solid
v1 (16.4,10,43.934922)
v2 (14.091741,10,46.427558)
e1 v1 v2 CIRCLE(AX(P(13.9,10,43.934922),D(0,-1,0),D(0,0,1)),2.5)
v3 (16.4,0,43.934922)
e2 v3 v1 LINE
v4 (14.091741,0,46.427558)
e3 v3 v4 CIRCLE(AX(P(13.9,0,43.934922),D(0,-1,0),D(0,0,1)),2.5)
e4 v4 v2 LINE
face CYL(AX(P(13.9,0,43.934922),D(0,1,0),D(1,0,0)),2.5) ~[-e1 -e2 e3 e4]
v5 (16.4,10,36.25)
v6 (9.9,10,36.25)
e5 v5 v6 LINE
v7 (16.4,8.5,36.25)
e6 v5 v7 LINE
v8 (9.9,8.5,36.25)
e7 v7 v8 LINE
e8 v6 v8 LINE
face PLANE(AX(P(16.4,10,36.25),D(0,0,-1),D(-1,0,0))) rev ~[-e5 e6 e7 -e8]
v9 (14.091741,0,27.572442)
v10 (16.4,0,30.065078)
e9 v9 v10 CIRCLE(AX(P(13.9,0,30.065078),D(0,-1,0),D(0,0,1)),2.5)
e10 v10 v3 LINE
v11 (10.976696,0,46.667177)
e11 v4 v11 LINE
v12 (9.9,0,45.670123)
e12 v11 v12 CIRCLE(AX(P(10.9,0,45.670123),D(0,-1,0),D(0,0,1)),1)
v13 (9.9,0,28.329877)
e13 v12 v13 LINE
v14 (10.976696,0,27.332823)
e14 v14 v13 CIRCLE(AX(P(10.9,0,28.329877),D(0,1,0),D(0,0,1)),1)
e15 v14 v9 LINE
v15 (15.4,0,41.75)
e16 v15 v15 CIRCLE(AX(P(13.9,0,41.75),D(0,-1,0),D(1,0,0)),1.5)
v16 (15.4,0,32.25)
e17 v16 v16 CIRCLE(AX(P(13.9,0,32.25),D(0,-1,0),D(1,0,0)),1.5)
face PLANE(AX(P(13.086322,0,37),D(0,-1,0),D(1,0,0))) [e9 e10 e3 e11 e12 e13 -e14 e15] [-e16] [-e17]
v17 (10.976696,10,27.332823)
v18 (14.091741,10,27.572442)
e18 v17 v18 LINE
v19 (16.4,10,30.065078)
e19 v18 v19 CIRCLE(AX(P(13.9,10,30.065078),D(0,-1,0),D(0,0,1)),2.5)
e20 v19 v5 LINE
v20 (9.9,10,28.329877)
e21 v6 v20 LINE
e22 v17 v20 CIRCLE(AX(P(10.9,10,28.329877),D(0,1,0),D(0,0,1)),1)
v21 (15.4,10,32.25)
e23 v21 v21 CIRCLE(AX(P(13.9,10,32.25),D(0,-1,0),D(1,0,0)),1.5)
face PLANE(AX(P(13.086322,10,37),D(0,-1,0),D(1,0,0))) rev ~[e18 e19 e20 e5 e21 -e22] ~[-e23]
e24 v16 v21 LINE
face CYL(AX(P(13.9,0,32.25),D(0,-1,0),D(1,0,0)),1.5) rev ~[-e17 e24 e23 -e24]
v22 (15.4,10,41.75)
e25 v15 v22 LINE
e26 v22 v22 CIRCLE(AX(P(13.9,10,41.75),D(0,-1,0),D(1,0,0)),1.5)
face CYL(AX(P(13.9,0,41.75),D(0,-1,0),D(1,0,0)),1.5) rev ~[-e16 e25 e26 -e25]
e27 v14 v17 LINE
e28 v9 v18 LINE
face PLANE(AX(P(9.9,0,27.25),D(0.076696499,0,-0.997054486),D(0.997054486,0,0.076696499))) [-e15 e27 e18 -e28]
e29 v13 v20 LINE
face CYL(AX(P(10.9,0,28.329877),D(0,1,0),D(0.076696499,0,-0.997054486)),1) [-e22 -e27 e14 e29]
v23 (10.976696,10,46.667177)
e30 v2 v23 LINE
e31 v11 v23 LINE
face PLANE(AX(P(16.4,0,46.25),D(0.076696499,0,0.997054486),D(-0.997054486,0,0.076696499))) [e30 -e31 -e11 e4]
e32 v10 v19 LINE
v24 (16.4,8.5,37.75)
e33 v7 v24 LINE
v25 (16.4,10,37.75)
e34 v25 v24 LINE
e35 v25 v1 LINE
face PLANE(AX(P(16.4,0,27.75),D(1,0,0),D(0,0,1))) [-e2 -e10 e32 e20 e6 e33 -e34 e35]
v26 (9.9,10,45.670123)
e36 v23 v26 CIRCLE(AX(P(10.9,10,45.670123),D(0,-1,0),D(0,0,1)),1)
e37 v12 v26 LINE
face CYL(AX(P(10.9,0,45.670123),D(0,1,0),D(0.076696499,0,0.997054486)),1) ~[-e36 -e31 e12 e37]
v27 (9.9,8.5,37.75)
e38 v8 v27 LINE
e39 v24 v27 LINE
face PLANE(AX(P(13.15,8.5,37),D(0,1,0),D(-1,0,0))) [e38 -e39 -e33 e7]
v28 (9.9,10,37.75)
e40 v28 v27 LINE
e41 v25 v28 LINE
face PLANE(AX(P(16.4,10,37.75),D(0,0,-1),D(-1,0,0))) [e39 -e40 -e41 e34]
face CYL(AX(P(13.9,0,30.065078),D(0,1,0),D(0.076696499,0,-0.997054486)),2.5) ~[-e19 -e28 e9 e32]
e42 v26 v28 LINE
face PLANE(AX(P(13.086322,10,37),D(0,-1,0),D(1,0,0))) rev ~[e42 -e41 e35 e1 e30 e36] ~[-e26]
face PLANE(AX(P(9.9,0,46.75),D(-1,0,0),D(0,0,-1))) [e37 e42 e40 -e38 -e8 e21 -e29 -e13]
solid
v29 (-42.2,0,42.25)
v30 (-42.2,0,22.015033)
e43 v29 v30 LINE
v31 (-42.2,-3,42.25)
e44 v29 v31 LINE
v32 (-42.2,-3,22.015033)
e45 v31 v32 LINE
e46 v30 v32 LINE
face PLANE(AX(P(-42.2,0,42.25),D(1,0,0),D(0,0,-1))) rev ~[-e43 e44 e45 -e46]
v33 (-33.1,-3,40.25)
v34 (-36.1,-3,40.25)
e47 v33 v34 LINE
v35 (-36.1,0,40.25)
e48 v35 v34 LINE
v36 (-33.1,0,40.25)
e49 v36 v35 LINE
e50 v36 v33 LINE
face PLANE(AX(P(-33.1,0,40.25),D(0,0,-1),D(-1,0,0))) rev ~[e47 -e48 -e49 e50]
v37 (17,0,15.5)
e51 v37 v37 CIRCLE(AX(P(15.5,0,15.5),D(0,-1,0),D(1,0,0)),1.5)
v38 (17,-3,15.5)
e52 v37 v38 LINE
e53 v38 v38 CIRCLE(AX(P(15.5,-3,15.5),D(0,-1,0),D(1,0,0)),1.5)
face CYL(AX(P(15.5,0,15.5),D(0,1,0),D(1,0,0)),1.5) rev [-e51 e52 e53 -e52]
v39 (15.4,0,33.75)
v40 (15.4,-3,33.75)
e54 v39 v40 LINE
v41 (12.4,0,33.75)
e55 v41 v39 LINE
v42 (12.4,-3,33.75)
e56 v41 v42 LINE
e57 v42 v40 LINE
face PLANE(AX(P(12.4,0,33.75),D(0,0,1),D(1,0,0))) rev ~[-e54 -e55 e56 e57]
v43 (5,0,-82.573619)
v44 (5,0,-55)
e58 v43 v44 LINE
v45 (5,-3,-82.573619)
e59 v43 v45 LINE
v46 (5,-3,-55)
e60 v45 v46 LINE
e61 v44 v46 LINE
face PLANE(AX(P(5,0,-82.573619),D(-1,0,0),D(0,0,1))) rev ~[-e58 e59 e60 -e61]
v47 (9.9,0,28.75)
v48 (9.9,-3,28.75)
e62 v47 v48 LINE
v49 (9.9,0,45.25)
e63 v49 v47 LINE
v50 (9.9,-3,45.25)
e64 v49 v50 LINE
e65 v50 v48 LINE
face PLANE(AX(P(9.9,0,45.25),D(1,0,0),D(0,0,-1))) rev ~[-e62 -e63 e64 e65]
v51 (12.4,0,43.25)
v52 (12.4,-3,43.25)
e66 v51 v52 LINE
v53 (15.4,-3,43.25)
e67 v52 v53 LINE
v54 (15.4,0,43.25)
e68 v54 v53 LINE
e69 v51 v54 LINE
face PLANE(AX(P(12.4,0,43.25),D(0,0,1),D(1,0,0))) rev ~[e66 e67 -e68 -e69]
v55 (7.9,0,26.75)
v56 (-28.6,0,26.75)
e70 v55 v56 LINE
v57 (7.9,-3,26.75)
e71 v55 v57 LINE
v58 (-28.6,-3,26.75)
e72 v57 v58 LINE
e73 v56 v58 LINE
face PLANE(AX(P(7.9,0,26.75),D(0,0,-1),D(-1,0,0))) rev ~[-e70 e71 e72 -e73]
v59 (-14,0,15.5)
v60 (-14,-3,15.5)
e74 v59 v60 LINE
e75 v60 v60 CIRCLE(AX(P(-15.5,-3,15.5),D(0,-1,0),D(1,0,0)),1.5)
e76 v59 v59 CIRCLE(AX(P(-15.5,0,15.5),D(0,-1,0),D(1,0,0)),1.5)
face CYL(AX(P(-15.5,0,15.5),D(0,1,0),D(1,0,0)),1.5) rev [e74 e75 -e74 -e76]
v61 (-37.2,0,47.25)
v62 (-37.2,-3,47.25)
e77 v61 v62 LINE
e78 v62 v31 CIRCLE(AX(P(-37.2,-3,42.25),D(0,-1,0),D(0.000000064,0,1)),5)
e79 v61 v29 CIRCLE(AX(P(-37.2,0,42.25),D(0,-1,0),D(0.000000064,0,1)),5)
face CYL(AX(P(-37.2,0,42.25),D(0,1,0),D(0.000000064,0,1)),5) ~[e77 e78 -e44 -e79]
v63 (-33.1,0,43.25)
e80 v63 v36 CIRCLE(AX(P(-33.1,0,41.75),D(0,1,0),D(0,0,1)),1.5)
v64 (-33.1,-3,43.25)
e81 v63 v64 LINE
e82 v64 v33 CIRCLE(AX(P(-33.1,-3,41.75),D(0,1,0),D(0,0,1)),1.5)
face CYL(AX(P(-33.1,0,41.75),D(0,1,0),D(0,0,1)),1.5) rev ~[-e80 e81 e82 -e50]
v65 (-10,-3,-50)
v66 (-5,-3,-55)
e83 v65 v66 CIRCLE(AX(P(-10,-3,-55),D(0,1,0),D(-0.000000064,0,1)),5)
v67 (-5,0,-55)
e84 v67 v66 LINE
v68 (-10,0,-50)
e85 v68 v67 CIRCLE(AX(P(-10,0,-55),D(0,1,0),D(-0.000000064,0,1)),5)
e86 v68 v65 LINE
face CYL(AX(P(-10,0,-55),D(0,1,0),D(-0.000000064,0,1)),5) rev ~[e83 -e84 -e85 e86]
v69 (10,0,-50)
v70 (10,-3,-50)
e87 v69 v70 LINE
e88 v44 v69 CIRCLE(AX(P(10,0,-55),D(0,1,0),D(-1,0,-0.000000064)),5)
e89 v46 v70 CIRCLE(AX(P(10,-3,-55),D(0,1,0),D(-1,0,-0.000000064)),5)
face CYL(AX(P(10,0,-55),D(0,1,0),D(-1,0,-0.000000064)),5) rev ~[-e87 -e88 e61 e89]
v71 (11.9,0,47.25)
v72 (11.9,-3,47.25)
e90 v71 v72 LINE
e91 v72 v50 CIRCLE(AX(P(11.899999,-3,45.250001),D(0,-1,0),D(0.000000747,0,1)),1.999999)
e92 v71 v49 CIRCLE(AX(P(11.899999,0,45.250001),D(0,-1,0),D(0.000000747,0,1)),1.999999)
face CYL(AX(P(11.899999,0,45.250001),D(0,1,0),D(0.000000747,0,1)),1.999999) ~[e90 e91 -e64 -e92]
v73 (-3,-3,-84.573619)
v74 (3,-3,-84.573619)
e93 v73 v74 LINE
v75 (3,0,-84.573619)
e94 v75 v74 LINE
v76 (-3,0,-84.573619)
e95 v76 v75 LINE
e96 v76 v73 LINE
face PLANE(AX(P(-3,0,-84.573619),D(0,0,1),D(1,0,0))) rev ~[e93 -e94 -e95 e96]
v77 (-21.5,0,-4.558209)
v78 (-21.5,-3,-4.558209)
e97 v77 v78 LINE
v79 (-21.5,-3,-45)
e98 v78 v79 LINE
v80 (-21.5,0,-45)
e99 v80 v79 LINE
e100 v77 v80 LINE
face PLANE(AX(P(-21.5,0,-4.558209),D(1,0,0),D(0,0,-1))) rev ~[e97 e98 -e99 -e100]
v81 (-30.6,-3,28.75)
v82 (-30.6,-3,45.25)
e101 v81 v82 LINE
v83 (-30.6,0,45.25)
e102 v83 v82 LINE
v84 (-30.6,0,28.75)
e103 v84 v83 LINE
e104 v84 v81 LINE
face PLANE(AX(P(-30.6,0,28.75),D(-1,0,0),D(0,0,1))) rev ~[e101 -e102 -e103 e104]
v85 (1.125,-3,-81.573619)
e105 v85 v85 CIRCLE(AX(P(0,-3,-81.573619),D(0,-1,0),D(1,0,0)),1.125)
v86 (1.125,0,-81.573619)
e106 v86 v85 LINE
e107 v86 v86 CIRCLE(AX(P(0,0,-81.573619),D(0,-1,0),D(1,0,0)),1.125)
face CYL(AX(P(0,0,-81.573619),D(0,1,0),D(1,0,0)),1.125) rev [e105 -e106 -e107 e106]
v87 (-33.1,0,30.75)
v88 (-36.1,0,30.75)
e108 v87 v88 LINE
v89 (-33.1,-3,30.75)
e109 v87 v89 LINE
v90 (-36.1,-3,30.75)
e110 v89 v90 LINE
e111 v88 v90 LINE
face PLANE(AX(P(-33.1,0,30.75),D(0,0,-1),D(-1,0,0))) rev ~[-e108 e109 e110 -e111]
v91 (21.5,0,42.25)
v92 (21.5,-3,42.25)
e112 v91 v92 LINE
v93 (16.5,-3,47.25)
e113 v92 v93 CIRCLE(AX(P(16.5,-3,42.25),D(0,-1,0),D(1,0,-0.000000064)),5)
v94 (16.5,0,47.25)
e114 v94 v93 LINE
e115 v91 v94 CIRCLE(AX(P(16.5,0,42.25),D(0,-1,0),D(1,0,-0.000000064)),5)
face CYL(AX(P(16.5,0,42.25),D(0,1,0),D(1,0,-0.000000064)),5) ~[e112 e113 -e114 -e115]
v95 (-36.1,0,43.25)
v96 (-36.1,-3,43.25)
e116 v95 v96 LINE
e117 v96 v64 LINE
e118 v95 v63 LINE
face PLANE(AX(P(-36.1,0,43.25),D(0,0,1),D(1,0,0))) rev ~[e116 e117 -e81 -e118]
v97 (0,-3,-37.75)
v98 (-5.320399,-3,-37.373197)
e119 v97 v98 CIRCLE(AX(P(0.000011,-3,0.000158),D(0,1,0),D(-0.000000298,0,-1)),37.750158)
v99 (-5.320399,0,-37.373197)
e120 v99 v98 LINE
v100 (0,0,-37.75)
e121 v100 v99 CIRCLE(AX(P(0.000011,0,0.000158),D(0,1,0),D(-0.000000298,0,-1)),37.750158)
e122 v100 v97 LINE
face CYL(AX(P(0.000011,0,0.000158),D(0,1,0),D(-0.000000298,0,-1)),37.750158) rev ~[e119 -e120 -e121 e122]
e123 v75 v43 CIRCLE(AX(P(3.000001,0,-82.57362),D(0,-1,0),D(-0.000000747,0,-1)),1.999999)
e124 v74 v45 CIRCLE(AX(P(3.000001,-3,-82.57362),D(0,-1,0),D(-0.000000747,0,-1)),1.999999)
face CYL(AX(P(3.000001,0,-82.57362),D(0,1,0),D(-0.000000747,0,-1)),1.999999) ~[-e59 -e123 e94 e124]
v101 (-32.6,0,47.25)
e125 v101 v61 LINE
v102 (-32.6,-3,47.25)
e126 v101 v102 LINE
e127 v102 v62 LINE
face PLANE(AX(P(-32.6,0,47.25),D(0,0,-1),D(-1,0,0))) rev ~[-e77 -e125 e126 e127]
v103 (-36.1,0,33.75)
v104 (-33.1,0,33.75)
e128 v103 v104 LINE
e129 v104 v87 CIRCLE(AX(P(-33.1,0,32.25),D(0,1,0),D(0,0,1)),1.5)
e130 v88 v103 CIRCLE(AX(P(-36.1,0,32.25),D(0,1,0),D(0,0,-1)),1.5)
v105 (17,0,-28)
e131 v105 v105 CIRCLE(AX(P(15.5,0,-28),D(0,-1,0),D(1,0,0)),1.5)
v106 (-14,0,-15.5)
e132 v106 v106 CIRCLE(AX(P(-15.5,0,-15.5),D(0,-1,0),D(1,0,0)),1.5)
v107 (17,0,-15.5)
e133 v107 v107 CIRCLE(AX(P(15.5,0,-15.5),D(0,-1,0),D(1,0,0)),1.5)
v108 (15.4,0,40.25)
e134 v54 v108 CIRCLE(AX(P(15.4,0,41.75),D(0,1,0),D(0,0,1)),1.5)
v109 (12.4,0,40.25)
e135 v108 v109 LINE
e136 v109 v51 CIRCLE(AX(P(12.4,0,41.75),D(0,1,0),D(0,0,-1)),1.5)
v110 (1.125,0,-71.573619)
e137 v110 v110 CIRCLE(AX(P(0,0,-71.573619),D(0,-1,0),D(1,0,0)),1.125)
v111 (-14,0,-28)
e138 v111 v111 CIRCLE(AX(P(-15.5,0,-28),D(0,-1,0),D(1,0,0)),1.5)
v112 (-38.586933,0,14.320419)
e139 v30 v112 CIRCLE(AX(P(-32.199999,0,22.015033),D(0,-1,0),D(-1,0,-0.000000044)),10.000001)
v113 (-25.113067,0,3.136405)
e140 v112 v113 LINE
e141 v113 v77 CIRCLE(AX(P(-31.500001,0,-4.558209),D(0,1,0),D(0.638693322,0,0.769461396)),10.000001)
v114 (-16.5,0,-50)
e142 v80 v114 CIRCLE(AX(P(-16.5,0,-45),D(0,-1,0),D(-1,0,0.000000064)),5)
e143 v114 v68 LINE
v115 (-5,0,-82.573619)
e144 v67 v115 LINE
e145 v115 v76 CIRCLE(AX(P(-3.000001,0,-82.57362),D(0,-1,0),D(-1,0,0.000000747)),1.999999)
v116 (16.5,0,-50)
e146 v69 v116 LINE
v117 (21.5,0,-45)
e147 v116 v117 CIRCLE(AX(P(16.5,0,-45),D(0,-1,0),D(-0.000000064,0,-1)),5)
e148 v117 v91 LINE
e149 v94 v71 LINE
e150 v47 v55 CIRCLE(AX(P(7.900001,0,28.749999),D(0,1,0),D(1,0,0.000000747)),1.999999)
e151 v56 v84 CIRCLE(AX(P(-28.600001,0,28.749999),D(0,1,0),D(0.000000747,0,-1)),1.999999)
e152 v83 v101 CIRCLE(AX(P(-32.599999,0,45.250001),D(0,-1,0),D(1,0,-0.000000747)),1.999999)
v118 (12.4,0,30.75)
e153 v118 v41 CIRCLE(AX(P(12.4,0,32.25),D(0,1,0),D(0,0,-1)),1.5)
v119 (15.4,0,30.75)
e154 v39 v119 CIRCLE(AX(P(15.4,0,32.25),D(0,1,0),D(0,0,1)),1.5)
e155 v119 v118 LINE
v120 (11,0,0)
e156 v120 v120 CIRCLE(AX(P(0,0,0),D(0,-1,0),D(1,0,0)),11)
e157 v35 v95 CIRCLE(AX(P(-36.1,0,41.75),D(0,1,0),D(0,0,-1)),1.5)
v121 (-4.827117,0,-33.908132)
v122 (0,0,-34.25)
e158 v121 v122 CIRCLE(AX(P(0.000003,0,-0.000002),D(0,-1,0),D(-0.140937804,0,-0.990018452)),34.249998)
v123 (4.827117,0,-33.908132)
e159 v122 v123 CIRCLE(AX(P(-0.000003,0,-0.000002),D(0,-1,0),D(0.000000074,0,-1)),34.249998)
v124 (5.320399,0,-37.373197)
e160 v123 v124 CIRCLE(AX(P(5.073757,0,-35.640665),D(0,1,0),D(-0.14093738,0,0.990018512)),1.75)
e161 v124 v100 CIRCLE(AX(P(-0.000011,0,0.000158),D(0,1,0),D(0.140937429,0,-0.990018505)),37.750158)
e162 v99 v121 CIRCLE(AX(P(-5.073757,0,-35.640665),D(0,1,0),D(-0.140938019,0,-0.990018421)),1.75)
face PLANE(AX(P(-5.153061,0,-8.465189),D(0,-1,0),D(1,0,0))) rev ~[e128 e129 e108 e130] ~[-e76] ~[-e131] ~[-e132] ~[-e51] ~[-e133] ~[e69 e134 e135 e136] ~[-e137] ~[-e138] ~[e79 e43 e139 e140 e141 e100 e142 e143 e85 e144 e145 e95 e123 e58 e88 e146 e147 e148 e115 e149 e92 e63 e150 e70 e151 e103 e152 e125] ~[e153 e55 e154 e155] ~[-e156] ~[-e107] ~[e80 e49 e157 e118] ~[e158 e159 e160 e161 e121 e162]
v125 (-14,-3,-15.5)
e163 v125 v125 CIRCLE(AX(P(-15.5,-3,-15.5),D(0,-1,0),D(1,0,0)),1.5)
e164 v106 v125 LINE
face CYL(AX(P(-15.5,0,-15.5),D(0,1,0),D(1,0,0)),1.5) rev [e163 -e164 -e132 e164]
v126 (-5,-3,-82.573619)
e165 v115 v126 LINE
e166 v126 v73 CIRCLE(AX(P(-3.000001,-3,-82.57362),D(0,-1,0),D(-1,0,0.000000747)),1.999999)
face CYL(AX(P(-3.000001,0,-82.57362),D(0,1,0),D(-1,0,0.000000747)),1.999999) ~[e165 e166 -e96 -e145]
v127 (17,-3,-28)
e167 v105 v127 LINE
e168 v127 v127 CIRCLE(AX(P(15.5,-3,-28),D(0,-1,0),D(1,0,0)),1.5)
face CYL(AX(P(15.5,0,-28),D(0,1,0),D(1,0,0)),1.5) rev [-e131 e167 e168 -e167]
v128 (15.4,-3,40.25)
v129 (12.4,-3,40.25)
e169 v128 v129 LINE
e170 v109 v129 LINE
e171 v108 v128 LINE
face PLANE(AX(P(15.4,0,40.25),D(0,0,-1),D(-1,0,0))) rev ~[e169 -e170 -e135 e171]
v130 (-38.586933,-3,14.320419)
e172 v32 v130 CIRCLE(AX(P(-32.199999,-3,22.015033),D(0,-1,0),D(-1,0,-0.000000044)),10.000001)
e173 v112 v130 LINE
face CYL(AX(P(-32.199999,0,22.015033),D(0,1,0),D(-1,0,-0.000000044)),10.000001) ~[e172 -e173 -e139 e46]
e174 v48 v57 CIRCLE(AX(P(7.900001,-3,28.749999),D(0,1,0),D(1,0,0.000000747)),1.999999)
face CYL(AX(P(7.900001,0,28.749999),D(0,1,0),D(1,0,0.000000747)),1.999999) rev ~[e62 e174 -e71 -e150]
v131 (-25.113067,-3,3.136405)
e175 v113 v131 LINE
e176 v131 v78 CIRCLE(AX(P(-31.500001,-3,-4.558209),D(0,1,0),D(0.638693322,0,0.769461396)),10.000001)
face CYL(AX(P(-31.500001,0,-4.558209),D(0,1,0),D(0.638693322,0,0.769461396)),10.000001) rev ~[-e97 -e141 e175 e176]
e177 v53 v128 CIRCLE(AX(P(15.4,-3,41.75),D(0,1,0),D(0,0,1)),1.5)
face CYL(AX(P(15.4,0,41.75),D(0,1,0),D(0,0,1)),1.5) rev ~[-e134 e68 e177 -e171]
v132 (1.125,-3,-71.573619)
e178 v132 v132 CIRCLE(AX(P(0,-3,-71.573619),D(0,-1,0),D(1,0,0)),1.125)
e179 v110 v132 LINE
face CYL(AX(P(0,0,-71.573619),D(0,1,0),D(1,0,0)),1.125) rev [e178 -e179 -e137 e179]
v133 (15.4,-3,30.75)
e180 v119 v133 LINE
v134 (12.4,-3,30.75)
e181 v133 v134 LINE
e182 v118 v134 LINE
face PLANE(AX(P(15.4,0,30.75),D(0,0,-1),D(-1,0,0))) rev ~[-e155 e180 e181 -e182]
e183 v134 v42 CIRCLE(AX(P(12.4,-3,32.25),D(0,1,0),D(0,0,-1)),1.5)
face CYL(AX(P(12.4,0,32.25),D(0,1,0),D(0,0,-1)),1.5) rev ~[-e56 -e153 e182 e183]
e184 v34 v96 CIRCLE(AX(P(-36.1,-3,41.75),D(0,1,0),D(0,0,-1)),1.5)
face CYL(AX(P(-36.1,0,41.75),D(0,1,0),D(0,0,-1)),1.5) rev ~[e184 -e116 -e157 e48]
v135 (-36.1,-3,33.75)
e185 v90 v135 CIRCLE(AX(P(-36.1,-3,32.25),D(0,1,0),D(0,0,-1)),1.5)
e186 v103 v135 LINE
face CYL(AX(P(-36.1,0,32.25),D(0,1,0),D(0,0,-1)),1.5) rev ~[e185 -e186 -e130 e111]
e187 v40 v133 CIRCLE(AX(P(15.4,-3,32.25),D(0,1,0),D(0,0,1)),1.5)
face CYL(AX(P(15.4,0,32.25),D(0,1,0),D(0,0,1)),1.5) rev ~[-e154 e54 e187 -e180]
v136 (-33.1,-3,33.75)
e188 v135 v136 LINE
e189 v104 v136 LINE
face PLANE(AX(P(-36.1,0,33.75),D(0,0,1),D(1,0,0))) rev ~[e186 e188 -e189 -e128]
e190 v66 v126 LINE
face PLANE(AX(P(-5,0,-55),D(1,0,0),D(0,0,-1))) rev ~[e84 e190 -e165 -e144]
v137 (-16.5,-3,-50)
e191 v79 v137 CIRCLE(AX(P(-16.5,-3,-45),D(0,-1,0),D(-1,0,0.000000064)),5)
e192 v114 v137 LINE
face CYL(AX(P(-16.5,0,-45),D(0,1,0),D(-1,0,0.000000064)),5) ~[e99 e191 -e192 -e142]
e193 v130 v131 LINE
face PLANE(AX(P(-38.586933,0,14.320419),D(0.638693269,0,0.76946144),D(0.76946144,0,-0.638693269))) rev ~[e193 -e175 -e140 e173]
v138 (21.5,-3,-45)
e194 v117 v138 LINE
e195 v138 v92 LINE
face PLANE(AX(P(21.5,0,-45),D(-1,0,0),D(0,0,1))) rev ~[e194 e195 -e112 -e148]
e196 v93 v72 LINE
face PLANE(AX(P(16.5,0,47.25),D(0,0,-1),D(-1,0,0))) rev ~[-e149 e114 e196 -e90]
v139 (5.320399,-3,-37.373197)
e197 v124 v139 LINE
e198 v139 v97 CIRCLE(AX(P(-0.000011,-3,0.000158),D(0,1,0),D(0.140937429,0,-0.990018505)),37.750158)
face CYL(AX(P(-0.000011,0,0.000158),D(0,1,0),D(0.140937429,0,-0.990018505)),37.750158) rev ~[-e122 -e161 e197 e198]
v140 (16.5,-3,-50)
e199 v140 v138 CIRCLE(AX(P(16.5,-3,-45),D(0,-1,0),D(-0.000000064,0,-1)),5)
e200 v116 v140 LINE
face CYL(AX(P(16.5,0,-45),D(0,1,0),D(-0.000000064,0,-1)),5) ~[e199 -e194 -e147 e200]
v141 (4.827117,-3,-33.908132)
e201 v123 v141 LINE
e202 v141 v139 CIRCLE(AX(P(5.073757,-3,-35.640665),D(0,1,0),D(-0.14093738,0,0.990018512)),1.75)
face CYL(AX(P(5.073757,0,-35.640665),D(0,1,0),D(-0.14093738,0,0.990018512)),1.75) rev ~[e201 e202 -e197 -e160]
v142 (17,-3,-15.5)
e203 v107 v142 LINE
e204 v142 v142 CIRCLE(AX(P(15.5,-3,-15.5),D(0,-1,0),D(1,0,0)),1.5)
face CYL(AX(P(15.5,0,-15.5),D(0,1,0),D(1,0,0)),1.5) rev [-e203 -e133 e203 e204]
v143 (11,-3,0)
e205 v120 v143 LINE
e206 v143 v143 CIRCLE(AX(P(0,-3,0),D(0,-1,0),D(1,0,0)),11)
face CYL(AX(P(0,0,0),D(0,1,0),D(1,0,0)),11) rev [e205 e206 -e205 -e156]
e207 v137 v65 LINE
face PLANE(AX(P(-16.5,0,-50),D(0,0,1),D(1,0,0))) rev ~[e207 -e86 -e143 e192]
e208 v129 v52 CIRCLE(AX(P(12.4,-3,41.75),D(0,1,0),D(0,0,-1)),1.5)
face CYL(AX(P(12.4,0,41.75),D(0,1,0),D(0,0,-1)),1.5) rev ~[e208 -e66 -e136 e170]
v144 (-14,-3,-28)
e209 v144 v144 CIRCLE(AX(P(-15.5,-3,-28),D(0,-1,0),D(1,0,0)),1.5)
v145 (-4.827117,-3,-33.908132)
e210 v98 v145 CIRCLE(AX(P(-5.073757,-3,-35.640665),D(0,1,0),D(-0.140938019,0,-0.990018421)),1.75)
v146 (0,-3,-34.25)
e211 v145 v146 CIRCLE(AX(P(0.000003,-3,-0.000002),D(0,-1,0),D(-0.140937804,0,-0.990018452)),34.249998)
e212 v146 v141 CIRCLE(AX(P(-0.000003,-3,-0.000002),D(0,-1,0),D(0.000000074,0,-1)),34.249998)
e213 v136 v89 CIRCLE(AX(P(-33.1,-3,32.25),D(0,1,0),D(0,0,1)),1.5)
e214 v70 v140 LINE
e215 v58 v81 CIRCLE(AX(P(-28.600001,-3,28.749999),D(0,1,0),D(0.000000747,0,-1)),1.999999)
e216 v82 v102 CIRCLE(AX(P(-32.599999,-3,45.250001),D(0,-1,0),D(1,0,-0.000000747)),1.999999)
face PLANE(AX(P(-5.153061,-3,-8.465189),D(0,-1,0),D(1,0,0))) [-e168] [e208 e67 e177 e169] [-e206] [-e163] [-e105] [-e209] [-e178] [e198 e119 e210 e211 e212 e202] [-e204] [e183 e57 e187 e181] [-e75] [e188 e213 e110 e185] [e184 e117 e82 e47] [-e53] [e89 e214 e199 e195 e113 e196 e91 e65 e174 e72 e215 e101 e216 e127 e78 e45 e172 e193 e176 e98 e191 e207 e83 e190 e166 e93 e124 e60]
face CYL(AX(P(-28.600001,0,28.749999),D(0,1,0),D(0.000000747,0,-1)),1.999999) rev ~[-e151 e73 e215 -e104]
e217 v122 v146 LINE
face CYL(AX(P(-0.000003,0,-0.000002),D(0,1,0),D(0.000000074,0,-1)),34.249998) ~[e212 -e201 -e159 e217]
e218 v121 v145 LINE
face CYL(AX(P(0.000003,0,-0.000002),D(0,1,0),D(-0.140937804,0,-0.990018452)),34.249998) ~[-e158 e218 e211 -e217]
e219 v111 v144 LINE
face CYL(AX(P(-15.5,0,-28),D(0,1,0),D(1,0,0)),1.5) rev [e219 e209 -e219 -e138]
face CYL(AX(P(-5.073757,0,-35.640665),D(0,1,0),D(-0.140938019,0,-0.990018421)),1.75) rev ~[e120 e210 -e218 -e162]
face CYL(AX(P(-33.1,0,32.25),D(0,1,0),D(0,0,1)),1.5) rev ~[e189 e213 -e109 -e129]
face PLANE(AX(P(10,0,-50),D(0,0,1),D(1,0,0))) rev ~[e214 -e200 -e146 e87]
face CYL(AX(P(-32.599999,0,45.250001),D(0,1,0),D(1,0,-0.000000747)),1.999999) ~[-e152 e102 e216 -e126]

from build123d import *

# Parameters (mm, degrees)
F1_R     = 1.5
F1_R_2   = 1.125
F1_R_3   = 11
F2_DEPTH = 3
F3_R     = 1.5
F4_DEPTH = 10
F5_W     = 6.5
F5_H     = 1.5
F6_DEPTH = 1.5
F7_R     = 1
F8_R     = 2.5


with BuildPart() as f2:
    # F1 (on Front) → F2 (new body)
    with BuildSketch(Plane.XZ):
        with BuildLine():
            ThreePointArc((16.5, -50), (20.035534, -48.535534), (21.5, -45))
            Line((21.5, -45), (21.5, 42.25))
            ThreePointArc((21.5, 42.25), (20.035534, 45.785534), (16.5, 47.25))
            Line((16.5, 47.25), (11.9, 47.25))
            ThreePointArc((11.9, 47.25), (10.485786, 46.664214), (9.9, 45.25))
            Line((9.9, 45.25), (9.9, 28.75))
            ThreePointArc((9.9, 28.75), (9.314214, 27.335786), (7.9, 26.75))
            Line((7.9, 26.75), (-28.6, 26.75))
            ThreePointArc((-28.6, 26.75), (-30.014214, 27.335786), (-30.6, 28.75))
            Line((-30.6, 28.75), (-30.6, 45.25))
            ThreePointArc((-30.6, 45.25), (-31.185786, 46.664214), (-32.6, 47.25))
            Line((-32.6, 47.25), (-37.2, 47.25))
            ThreePointArc((-37.2, 47.25), (-40.735534, 45.785534), (-42.2, 42.25))
            Line((-42.2, 42.25), (-42.2, 22.015033))
            ThreePointArc((-42.2, 22.015033), (-41.251777, 17.7647), (-38.586933, 14.320419))
            Line((-38.586933, 14.320419), (-25.113067, 3.136405))
            ThreePointArc((-25.113067, 3.136405), (-22.448223, -0.307876), (-21.5, -4.558209))
            Line((-21.5, -4.558209), (-21.5, -45))
            ThreePointArc((-21.5, -45), (-20.035534, -48.535534), (-16.5, -50))
            Line((-16.5, -50), (-10, -50))
            ThreePointArc((-10, -50), (-6.464466, -51.464466), (-5, -55))
            Line((-5, -55), (-5, -82.573619))
            ThreePointArc((-5, -82.573619), (-4.414214, -83.987833), (-3, -84.573619))
            Line((-3, -84.573619), (3, -84.573619))
            ThreePointArc((3, -84.573619), (4.414214, -83.987833), (5, -82.573619))
            Line((5, -82.573619), (5, -55))
            ThreePointArc((5, -55), (6.464466, -51.464466), (10, -50))
            Line((10, -50), (16.5, -50))
        make_face()
        with Locations((-15.5, -28)):
            Circle(F1_R, mode=Mode.SUBTRACT)
        with Locations((0, -81.573619)):
            Circle(F1_R_2, mode=Mode.SUBTRACT)
        with Locations((0, -71.573619)):
            Circle(F1_R_2, mode=Mode.SUBTRACT)
        with BuildLine():
            ThreePointArc((0, -34.25), (2.419604, -34.164426), (4.827117, -33.908132))
            ThreePointArc((4.827117, -33.908132), (6.80629, -35.394024), (5.320399, -37.373197))
            ThreePointArc((5.320399, -37.373197), (2.666863, -37.655681), (0, -37.75))
            ThreePointArc((0, -37.75), (-2.666863, -37.655681), (-5.320399, -37.373197))
            ThreePointArc((-5.320399, -37.373197), (-6.80629, -35.394024), (-4.827117, -33.908132))
            ThreePointArc((-4.827117, -33.908132), (-2.419604, -34.164426), (0, -34.25))
        make_face(mode=Mode.SUBTRACT)
        with Locations((15.5, -28)):
            Circle(F1_R, mode=Mode.SUBTRACT)
        with Locations((-15.5, -15.5)):
            Circle(F1_R, mode=Mode.SUBTRACT)
        with BuildLine():
            ThreePointArc((-36.1, 30.75), (-37.6, 32.25), (-36.1, 33.75))
            Line((-36.1, 33.75), (-33.1, 33.75))
            ThreePointArc((-33.1, 33.75), (-31.6, 32.25), (-33.1, 30.75))
            Line((-33.1, 30.75), (-36.1, 30.75))
        make_face(mode=Mode.SUBTRACT)
        with BuildLine():
            Line((-33.1, 40.25), (-36.1, 40.25))
            ThreePointArc((-36.1, 40.25), (-37.6, 41.75), (-36.1, 43.25))
            Line((-36.1, 43.25), (-33.1, 43.25))
            ThreePointArc((-33.1, 43.25), (-31.6, 41.75), (-33.1, 40.25))
        make_face(mode=Mode.SUBTRACT)
        with Locations((-15.5, 15.5)):
            Circle(F1_R, mode=Mode.SUBTRACT)
        Circle(F1_R_3, mode=Mode.SUBTRACT)
        with Locations((15.5, -15.5)):
            Circle(F1_R, mode=Mode.SUBTRACT)
        with Locations((15.5, 15.5)):
            Circle(F1_R, mode=Mode.SUBTRACT)
        with BuildLine():
            Line((15.4, 30.75), (12.4, 30.75))
            ThreePointArc((12.4, 30.75), (10.9, 32.25), (12.4, 33.75))
            Line((12.4, 33.75), (15.4, 33.75))
            ThreePointArc((15.4, 33.75), (16.9, 32.25), (15.4, 30.75))
        make_face(mode=Mode.SUBTRACT)
        with BuildLine():
            Line((15.4, 40.25), (12.4, 40.25))
            ThreePointArc((12.4, 40.25), (10.9, 41.75), (12.4, 43.25))
            Line((12.4, 43.25), (15.4, 43.25))
            ThreePointArc((15.4, 43.25), (16.9, 41.75), (15.4, 40.25))
        make_face(mode=Mode.SUBTRACT)
    extrude(amount=F2_DEPTH)


with BuildPart() as f4:
    # F3 (on Front) → F4 (new body)
    with BuildSketch(Plane.XZ):
        Polygon((16.4, 27.75), (16.4, 46.25), (9.9, 46.75), (9.9, 27.25), align=None)
        with Locations((13.9, 32.25)):
            Circle(F3_R, mode=Mode.SUBTRACT)
        with Locations((13.9, 41.75)):
            Circle(F3_R, mode=Mode.SUBTRACT)
    extrude(amount=-F4_DEPTH)

    # F5 (on face) → F6 (cut)
    with BuildSketch(Plane(origin=(0, 10, 0), x_dir=(-1, 0, 0), z_dir=(0, 1, 0))):
        with Locations((-13.15, 37)):
            Rectangle(F5_W, F5_H)
    extrude(amount=-F6_DEPTH, mode=Mode.SUBTRACT)

    # F7
    f7_edges = [f4.edges().sort_by_distance(p)[0] for p in [
        (9.9, 5, 46.75),
        (9.9, 5, 27.25),
    ]]
    fillet(f7_edges, radius=F7_R)

    # F8
    f8_edges = [f4.edges().sort_by_distance(p)[0] for p in [
        (16.4, 5, 27.75),
        (16.4, 5, 46.25),
    ]]
    fillet(f8_edges, radius=F8_R)


solid = Compound([f2.part, f4.part])
